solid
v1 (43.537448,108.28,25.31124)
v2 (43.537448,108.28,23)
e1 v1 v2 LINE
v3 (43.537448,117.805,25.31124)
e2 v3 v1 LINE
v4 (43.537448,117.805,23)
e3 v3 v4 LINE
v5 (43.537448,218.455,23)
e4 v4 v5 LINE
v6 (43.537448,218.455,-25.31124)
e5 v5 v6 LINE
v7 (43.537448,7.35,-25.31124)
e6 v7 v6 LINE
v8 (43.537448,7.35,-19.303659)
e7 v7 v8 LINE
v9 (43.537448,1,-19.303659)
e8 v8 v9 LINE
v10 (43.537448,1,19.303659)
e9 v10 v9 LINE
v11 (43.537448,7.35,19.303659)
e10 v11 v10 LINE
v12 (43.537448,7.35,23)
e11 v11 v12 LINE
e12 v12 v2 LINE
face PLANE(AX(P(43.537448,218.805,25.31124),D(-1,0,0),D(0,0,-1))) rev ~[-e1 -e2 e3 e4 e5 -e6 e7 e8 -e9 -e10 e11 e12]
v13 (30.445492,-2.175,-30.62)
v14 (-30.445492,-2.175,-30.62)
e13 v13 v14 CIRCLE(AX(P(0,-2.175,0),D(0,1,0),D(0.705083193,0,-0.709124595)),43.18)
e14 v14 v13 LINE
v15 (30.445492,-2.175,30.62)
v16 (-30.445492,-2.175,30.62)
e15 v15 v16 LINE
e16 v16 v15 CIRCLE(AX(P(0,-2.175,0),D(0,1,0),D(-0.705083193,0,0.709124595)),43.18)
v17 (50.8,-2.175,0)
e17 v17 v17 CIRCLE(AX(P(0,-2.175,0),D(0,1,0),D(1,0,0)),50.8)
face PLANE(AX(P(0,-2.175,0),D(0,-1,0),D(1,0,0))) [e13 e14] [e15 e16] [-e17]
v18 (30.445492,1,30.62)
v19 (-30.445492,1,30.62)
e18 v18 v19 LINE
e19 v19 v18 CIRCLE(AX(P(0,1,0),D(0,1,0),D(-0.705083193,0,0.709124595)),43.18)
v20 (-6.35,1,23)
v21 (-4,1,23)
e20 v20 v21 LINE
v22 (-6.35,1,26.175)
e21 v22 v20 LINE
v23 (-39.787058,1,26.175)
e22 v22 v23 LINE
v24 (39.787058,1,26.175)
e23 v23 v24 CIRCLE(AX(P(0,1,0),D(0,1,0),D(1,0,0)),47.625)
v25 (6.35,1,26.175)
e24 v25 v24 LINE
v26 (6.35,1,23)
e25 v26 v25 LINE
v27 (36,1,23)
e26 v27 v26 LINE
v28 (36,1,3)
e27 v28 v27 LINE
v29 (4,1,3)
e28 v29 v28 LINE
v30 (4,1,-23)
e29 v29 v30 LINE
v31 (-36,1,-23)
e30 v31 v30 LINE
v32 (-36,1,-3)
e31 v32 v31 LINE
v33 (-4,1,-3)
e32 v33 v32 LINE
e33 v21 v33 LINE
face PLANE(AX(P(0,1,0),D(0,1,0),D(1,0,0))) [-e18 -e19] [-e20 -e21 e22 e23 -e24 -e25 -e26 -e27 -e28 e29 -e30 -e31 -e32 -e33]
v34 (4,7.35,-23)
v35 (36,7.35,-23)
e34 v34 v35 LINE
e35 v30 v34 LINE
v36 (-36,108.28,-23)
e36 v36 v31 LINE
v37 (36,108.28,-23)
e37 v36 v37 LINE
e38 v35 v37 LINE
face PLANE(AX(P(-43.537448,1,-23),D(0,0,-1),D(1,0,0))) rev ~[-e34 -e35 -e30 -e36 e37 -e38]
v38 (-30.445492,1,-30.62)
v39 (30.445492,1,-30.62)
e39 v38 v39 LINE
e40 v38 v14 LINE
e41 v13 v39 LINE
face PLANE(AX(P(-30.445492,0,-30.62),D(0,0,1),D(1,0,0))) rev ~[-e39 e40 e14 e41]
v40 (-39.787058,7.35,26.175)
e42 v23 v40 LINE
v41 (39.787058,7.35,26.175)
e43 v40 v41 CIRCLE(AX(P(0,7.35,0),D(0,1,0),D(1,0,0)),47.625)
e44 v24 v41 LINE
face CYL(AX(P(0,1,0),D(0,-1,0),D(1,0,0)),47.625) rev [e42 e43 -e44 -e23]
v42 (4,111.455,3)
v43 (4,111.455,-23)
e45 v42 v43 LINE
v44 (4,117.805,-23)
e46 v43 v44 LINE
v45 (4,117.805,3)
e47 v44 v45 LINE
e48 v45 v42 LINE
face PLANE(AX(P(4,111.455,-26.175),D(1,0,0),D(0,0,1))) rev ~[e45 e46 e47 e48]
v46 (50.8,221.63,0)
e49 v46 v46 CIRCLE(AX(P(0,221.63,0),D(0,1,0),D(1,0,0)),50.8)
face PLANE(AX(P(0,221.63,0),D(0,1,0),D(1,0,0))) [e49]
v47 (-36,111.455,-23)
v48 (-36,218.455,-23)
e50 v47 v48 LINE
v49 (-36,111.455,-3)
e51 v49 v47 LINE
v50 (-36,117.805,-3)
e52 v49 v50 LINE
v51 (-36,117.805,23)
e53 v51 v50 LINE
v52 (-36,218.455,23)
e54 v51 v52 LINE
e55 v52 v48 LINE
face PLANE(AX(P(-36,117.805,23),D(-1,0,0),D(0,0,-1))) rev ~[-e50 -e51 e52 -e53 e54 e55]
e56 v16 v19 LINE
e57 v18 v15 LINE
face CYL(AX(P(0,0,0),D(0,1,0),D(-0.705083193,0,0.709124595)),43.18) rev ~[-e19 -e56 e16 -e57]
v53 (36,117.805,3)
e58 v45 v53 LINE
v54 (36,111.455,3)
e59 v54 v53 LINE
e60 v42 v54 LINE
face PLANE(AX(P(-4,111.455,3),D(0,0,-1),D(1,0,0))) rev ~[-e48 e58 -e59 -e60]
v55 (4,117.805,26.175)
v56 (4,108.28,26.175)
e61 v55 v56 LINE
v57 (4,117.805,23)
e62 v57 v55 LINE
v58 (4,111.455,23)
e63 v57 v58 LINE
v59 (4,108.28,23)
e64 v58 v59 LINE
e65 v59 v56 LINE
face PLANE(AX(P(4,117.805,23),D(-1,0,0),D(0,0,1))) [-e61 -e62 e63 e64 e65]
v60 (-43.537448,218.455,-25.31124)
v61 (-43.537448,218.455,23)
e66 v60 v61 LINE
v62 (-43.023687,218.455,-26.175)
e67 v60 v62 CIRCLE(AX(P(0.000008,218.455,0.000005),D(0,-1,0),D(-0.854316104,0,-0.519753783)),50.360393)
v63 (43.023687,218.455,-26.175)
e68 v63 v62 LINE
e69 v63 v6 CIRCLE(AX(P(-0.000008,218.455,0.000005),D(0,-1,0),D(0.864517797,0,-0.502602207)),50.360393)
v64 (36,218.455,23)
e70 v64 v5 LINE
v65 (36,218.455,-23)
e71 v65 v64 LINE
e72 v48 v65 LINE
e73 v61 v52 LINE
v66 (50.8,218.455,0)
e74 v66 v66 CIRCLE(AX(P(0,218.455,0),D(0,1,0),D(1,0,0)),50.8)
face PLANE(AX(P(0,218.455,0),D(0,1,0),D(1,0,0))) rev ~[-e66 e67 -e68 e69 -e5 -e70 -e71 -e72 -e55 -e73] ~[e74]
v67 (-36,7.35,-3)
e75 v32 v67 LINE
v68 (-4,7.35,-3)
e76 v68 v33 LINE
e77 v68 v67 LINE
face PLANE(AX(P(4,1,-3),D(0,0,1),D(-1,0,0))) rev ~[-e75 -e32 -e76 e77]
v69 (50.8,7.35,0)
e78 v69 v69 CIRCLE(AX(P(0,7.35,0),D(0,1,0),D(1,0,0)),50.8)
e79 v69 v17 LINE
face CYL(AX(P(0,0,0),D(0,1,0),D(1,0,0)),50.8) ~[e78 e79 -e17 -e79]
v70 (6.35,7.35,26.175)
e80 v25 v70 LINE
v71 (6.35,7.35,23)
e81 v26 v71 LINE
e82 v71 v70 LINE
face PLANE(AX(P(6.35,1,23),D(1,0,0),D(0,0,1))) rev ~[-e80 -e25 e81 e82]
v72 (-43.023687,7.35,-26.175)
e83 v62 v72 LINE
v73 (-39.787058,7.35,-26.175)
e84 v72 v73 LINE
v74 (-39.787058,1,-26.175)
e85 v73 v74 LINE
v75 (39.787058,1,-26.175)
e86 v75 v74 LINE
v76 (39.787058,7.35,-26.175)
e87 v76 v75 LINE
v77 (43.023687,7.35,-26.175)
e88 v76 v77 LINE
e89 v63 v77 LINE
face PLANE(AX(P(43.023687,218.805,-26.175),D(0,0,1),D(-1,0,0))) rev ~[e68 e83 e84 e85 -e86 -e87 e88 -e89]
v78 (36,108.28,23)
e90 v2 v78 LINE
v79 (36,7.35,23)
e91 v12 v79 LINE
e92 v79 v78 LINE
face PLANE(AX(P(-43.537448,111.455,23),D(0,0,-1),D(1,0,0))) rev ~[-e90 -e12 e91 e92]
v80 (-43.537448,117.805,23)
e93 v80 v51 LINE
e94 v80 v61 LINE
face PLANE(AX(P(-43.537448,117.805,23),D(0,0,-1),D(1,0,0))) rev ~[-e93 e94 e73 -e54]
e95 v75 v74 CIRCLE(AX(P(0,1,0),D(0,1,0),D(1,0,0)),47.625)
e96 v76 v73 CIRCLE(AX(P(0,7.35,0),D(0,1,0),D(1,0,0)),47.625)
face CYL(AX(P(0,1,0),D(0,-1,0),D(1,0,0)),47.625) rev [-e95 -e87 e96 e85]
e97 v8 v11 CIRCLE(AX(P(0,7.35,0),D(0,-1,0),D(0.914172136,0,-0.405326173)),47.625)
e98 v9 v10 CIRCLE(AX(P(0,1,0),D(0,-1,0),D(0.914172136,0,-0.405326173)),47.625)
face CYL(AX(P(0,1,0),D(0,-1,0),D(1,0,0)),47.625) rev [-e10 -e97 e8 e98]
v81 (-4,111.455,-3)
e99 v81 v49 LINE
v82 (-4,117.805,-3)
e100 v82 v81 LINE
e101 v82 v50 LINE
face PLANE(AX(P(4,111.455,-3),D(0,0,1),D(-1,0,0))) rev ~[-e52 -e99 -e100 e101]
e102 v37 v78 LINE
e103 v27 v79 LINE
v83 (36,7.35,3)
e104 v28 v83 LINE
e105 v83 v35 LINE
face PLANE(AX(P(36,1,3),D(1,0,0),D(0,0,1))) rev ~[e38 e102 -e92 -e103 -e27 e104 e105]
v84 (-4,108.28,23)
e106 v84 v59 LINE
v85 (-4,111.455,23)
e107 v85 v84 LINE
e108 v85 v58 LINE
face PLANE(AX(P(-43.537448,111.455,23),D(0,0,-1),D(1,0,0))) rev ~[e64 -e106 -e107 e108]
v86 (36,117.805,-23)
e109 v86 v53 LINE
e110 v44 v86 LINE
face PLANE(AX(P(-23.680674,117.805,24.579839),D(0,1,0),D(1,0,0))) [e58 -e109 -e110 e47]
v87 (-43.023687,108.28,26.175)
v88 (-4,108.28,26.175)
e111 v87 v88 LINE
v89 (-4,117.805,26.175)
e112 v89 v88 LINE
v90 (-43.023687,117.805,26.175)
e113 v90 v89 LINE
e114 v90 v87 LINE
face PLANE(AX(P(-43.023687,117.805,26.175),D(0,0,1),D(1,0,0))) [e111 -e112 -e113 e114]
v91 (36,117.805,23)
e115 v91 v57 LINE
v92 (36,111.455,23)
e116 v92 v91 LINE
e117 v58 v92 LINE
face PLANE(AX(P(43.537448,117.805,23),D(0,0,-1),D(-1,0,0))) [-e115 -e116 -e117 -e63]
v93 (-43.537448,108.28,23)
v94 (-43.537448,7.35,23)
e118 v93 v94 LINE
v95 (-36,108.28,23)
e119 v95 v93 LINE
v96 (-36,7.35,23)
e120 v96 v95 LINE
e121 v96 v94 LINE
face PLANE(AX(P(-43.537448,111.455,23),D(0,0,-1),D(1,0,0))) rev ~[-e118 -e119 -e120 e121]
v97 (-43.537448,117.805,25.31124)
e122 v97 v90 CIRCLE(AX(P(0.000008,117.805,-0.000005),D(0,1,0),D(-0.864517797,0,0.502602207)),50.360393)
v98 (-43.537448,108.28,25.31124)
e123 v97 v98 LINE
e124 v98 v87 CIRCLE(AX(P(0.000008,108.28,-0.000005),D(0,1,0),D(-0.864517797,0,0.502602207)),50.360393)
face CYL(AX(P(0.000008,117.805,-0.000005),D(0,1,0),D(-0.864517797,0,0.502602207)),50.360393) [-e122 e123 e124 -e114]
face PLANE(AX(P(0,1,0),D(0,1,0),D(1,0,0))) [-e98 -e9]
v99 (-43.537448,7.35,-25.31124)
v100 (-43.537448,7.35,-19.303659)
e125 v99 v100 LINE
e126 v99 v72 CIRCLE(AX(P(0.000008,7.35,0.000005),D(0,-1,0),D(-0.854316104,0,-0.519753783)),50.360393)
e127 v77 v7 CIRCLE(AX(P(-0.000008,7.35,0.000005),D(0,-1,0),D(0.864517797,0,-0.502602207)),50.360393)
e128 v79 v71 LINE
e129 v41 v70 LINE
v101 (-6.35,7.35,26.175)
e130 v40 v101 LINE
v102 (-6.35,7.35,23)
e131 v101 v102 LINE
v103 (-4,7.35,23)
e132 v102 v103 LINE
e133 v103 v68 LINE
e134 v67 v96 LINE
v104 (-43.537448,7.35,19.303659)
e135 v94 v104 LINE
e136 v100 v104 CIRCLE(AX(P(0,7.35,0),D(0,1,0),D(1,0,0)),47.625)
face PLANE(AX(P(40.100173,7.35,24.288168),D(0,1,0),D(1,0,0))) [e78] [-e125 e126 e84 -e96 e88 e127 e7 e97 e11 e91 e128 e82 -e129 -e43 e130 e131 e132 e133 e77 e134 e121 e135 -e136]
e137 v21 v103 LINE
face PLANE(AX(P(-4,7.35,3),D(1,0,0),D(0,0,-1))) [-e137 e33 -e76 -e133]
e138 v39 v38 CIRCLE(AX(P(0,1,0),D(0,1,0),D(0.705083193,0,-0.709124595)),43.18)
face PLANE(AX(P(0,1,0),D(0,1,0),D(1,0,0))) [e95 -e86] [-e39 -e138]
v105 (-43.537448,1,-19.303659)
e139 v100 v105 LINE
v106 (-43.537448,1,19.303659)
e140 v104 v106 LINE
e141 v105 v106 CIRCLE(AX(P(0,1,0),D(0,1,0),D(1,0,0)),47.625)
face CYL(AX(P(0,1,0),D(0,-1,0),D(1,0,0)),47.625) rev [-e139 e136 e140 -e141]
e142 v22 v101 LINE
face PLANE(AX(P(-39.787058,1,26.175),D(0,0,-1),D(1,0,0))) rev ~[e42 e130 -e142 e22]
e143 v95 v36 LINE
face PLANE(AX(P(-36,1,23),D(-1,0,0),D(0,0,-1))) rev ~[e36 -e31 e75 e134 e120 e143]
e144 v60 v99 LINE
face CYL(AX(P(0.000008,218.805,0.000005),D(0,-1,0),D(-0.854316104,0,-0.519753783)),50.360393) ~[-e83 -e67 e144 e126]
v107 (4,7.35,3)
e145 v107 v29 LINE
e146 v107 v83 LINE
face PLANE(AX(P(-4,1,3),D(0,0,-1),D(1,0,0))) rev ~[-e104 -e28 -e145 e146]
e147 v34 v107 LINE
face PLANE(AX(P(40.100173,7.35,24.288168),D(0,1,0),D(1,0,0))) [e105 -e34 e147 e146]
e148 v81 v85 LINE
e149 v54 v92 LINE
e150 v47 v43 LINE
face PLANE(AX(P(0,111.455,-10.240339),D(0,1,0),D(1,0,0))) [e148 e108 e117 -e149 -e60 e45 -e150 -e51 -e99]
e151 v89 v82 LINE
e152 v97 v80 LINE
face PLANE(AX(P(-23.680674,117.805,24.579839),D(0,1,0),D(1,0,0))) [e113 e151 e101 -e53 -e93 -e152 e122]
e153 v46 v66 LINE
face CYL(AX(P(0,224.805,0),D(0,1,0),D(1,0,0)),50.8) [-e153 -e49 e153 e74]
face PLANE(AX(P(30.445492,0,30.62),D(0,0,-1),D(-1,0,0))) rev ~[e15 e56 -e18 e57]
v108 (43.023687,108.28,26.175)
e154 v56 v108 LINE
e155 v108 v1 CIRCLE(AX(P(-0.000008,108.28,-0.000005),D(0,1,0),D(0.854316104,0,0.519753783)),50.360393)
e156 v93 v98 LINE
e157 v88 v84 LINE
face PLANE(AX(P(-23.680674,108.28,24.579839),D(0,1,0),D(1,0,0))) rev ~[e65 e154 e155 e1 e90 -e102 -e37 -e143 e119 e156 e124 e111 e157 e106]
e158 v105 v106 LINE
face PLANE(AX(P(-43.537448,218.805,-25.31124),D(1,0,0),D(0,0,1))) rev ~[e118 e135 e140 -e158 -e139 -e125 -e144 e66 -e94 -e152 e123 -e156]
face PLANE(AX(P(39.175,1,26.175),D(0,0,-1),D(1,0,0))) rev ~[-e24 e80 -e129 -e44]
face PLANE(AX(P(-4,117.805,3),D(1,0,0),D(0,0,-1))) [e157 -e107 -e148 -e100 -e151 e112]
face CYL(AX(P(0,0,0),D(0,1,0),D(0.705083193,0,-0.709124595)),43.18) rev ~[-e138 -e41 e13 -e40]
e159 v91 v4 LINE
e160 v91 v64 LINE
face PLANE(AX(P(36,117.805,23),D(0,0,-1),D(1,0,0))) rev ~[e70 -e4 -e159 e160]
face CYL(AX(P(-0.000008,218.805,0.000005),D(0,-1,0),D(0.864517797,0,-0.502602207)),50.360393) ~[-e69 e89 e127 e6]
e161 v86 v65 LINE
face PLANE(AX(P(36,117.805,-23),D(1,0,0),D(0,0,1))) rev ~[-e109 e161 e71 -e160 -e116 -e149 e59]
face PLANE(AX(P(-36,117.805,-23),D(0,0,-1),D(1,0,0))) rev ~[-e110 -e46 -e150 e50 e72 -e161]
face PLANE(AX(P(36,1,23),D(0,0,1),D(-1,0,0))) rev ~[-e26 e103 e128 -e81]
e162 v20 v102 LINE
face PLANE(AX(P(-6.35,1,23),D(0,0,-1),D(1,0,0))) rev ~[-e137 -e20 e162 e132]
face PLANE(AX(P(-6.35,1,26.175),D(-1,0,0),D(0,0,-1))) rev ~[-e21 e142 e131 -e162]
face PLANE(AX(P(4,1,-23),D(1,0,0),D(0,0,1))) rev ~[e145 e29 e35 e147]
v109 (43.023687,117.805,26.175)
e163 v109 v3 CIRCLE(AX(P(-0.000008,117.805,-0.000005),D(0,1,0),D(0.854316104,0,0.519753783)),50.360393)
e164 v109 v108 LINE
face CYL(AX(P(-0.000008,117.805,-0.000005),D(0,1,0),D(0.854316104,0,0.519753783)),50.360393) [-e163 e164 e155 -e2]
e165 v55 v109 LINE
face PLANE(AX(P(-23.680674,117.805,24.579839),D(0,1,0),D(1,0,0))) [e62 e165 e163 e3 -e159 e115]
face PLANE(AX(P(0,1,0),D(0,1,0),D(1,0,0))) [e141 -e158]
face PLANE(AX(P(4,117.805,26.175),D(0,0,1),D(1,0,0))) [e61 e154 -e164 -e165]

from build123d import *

# Parameters (mm, degrees)
SKETCH1_R            = 50.8
BOSS_EXTRUDE1_DEPTH  = 1
SKETCH4_W            = 6.35
SKETCH4_H            = 3
BOSS_EXTRUDE2_DEPTH  = 6.35
SKETCH6_R            = 50.8
SKETCH6_R_2          = 47.625
BOSS_EXTRUDE3_DEPTH  = 6.35
BOSS_EXTRUDE5_DEPTH  = 107.280000006
BOSS_EXTRUDE10_START = -6.35
BOSS_EXTRUDE10_DEPTH = 107.28
SKETCH12_W           = 72.000000018
SKETCH12_H           = 46
BOSS_EXTRUDE13_DEPTH = 3.175
BOSS_EXTRUDE14_DEPTH = 6.35
BOSS_EXTRUDE16_DEPTH = 6.35
BOSS_EXTRUDE17_DEPTH = 9.525
BOSS_EXTRUDE18_DEPTH = 101
SKETCH18_W           = 7.999999982
SKETCH18_H           = 6.35
BOSS_EXTRUDE19_DEPTH = 3.175
SKETCH19_W           = 7.999999982
SKETCH19_H           = 6
CUT_EXTRUDE1_DEPTH   = 6.35
SKETCH20_W           = 7.999999982
SKETCH20_H           = 6
CUT_EXTRUDE2_DEPTH   = 6.35
BOSS_EXTRUDE21_DEPTH = 6
CUT_EXTRUDE3_DEPTH   = 2
SKETCH24_R           = 50.8
BOSS_EXTRUDE22_DEPTH = 6.35
SKETCH25_R           = 50.8
CUT_EXTRUDE4_DEPTH   = 3.175
SKETCH26_R           = 50.8
BOSS_EXTRUDE23_DEPTH = 5.35
SKETCH28_R           = 60.968632161
CUT_EXTRUDE5_DEPTH   = 3.175


with BuildPart() as part:
    # Sketch1 → Boss-Extrude1 (new body)
    with BuildSketch(Plane(origin=(0, 0, 0), x_dir=(1, 0, 0), z_dir=(0, 1, 0))):
        Circle(SKETCH1_R)
    extrude(amount=BOSS_EXTRUDE1_DEPTH)

    # Sketch4 → Boss-Extrude2 (add)
    with BuildSketch(Plane(origin=(0, 1, 0), x_dir=(1, 0, 0), z_dir=(0, 1, 0))):
        Polygon((-36.000000009, 18), (-36.000000009, 23), (-26.000000009, 23), (-6.35, 23), (-6.35, 26.175), (-39.175000009, 26.175), (-39.175000009, -26.175), (-6.35, -26.175), (-6.35, -23), (-36.000000009, -23), (-36.000000009, 3), align=None)
        Polygon((6.35, 26.175), (6.35, 23), (36.000000009, 23), (36.000000009, -3), (36.000000009, -18), (36.000000009, -23), (26.000000009, -23), (6.35, -23), (6.35, -26.175), (39.175000009, -26.175), (39.175000009, 26.175), align=None)
        Polygon((-26.000000009, 3), (-36.000000009, 3), (-36.000000009, -23), (-6.35, -23), (-6.35, 0), (-6.35, 3), align=None)
        Polygon((36.000000009, 23), (6.35, 23), (6.35, 0), (6.35, -3), (26.000000009, -3), (36.000000009, -3), align=None)
        with Locations((-3.175, 1.5)):
            Rectangle(SKETCH4_W, SKETCH4_H)
        Polygon((6.35, 23), (3.999999991, 23), (3.999999991, 18), (3.999999991, 3), (0, 3), (0, 0), (6.35, 0), align=None)
        with Locations((3.175, -1.5)):
            Rectangle(SKETCH4_W, SKETCH4_H)
        Polygon((-6.35, 0), (-6.35, -23), (-3.999999991, -23), (-3.999999991, -18), (-3.999999991, -3), (0, -3), (0, 0), align=None)
    extrude(amount=BOSS_EXTRUDE2_DEPTH)

    # Sketch6 → Boss-Extrude3 (add)
    with BuildSketch(Plane(origin=(0, 1, 0), x_dir=(1, 0, 0), z_dir=(0, 1, 0))):
        Circle(SKETCH6_R)
        Circle(SKETCH6_R_2, mode=Mode.SUBTRACT)
    extrude(amount=BOSS_EXTRUDE3_DEPTH)

    # Sketch8 → Boss-Extrude5 (add)
    with BuildSketch(Plane(origin=(0, 1, 0), x_dir=(1, 0, 0), z_dir=(0, 1, 0))):
        with BuildLine():
            Line((-39.175000009, -23), (-39.175000009, 23))
            Line((-39.175000009, 23), (-41.703004988, 23))
            ThreePointArc((-41.703004988, 23), (-42.660279406, 21.171707206), (-43.537447961, 19.30365898))
            Line((-43.537447961, 19.30365898), (-43.537447961, -19.30365898))
            ThreePointArc((-43.537447961, -19.30365898), (-42.660279406, -21.171707206), (-41.703004988, -23))
            Line((-41.703004988, -23), (-39.175000009, -23))
        make_face()
        Polygon((-36.000000009, 3), (-36.000000009, 23), (-39.175000009, 23), (-39.175000009, -23), (-36.000000009, -23), align=None)
        Polygon((39.175000009, 23), (36.000000009, 23), (36.000000009, -3), (36.000000009, -23), (39.175000009, -23), align=None)
        with BuildLine():
            ThreePointArc((43.537447961, 19.30365898), (42.660279406, 21.171707206), (41.703004988, 23))
            Line((41.703004988, 23), (39.175000009, 23))
            Line((39.175000009, 23), (39.175000009, -23))
            Line((39.175000009, -23), (41.703004988, -23))
            ThreePointArc((41.703004988, -23), (42.660279406, -21.171707206), (43.537447961, -19.30365898))
            Line((43.537447961, -19.30365898), (43.537447961, 19.30365898))
        make_face()
        with BuildLine():
            Line((43.537447961, 23), (41.703004988, 23))
            ThreePointArc((41.703004988, 23), (42.660279406, 21.171707206), (43.537447961, 19.30365898))
            Line((43.537447961, 19.30365898), (43.537447961, 23))
        make_face()
        with BuildLine():
            ThreePointArc((43.537447961, -19.30365898), (42.660279406, -21.171707206), (41.703004988, -23))
            Line((41.703004988, -23), (43.537447961, -23))
            Line((43.537447961, -23), (43.537447961, -19.30365898))
        make_face()
        with BuildLine():
            Line((-43.537447961, -23), (-41.703004988, -23))
            ThreePointArc((-41.703004988, -23), (-42.660279406, -21.171707206), (-43.537447961, -19.30365898))
            Line((-43.537447961, -19.30365898), (-43.537447961, -23))
        make_face()
        with BuildLine():
            ThreePointArc((-43.537447961, 19.30365898), (-42.660279406, 21.171707206), (-41.703004988, 23))
            Line((-41.703004988, 23), (-43.537447961, 23))
            Line((-43.537447961, 23), (-43.537447961, 19.30365898))
        make_face()
    extrude(amount=BOSS_EXTRUDE5_DEPTH)

    # Sketch9 → Boss-Extrude10 (add)
    with BuildSketch(Plane(origin=(0, 7.35, 0), x_dir=(1, 0, 0), z_dir=(0, 1, 0)).offset(BOSS_EXTRUDE10_START)):
        with BuildLine():
            Line((-43.537447961, 25.31123991), (-43.537447961, 23))
            Line((-43.537447961, 23), (43.537447961, 23))
            Line((43.537447961, 23), (43.537447961, 25.31123991))
            ThreePointArc((43.537447961, 25.31123991), (43.28272205, 25.744401579), (43.023686683, 26.175))
            Line((43.023686683, 26.175), (-43.023686683, 26.175))
            ThreePointArc((-43.023686683, 26.175), (-43.28272205, 25.744401579), (-43.537447961, 25.31123991))
        make_face()
    extrude(amount=BOSS_EXTRUDE10_DEPTH)

    # Sketch12 → Boss-Extrude13 (add)
    with BuildSketch(Plane(origin=(0, 108.280000006, 0), x_dir=(1, 0, 0), z_dir=(0, 1, 0))):
        with BuildLine():
            Line((-36.000000009, 23), (36.000000009, 23))
            Line((36.000000009, 23), (36.000000009, -23))
            Line((36.000000009, -23), (43.537447961, -23))
            Line((43.537447961, -23), (43.537447961, 25.31123991))
            ThreePointArc((43.537447961, 25.31123991), (43.28272205, 25.744401579), (43.023686683, 26.175))
            Line((43.023686683, 26.175), (-43.023686683, 26.175))
            ThreePointArc((-43.023686683, 26.175), (-43.28272205, 25.744401579), (-43.537447961, 25.31123991))
            Line((-43.537447961, 25.31123991), (-43.537447961, -23))
            Line((-43.537447961, -23), (-36.000000009, -23))
            Line((-36.000000009, -23), (-36.000000009, 23))
        make_face()
        Rectangle(SKETCH12_W, SKETCH12_H)
    extrude(amount=BOSS_EXTRUDE13_DEPTH)

    # Sketch13 → Boss-Extrude14 (add)
    with BuildSketch(Plane(origin=(0, 111.455000006, 0), x_dir=(1, 0, 0), z_dir=(0, 1, 0))):
        Polygon((-3.999999991, -3), (36.000000009, -3), (36.000000009, 23), (3.999999991, 23), (3.999999991, 3), (-36.000000009, 3), (-36.000000009, -23), (-6.35, -23), (-3.999999991, -23), align=None)
        with BuildLine():
            Line((36.000000009, -23), (39.175000009, -23))
            Line((39.175000009, -23), (41.703004988, -23))
            Line((41.703004988, -23), (43.537447961, -23))
            Line((43.537447961, -23), (43.537447961, 25.31123991))
            ThreePointArc((43.537447961, 25.31123991), (43.28272205, 25.744401579), (43.023686683, 26.175))
            Line((43.023686683, 26.175), (3.999999991, 26.175))
            Line((3.999999991, 26.175), (3.999999991, 23))
            Line((3.999999991, 23), (36.000000009, 23))
            Line((36.000000009, 23), (36.000000009, -3))
            Line((36.000000009, -3), (36.000000009, -23))
        make_face()
        with BuildLine():
            Line((-43.537447961, -23), (-41.703004988, -23))
            Line((-41.703004988, -23), (-39.175000009, -23))
            Line((-39.175000009, -23), (-36.000000009, -23))
            Line((-36.000000009, -23), (-36.000000009, 3))
            Line((-36.000000009, 3), (-36.000000009, 23))
            Line((-36.000000009, 23), (-3.999999991, 23))
            Line((-3.999999991, 23), (-3.999999991, 26.175))
            Line((-3.999999991, 26.175), (-43.023686683, 26.175))
            ThreePointArc((-43.023686683, 26.175), (-43.28272205, 25.744401579), (-43.537447961, 25.31123991))
            Line((-43.537447961, 25.31123991), (-43.537447961, -23))
        make_face()
    extrude(amount=BOSS_EXTRUDE14_DEPTH)

    # Sketch15 → Boss-Extrude16 (add)
    with BuildSketch(Plane(origin=(0, 1, 0), x_dir=(1, 0, 0), z_dir=(0, 1, 0))):
        with BuildLine():
            Line((39.175000009, -26.175), (39.787058197, -26.175))
            ThreePointArc((39.787058197, -26.175), (40.775945798, -24.60615511), (41.703004988, -23))
            Line((41.703004988, -23), (39.175000009, -23))
            Line((39.175000009, -23), (39.175000009, -26.175))
        make_face()
        with BuildLine():
            Line((-39.787058197, -26.175), (-39.175000009, -26.175))
            Line((-39.175000009, -26.175), (-39.175000009, -23))
            Line((-39.175000009, -23), (-41.703004988, -23))
            ThreePointArc((-41.703004988, -23), (-40.775945798, -24.60615511), (-39.787058197, -26.175))
        make_face()
    extrude(amount=BOSS_EXTRUDE16_DEPTH)

    # Sketch16 → Boss-Extrude17 (add)
    with BuildSketch(Plane(origin=(0, 117.805000006, 0), x_dir=(1, 0, 0), z_dir=(0, 1, 0))):
        with BuildLine():
            Line((-3.999999991, -23), (-43.537447961, -23))
            Line((-43.537447961, -23), (-43.537447961, -25.31123991))
            ThreePointArc((-43.537447961, -25.31123991), (-43.28272205, -25.744401579), (-43.023686683, -26.175))
            Line((-43.023686683, -26.175), (-3.999999991, -26.175))
            Line((-3.999999991, -26.175), (-3.999999991, -23))
        make_face()
        with BuildLine():
            Line((43.537447961, -23), (3.999999991, -23))
            Line((3.999999991, -23), (3.999999991, -26.175))
            Line((3.999999991, -26.175), (43.023686683, -26.175))
            ThreePointArc((43.023686683, -26.175), (43.28272205, -25.744401579), (43.537447961, -25.31123991))
            Line((43.537447961, -25.31123991), (43.537447961, -23))
        make_face()
    extrude(amount=-BOSS_EXTRUDE17_DEPTH)

    # Sketch17 → Boss-Extrude18 (add)
    with BuildSketch(Plane(origin=(0, 117.805000006, 0), x_dir=(1, 0, 0), z_dir=(0, 1, 0))):
        with BuildLine():
            ThreePointArc((43.537447961, 25.31123991), (43.28272205, 25.744401579), (43.023686683, 26.175))
            Line((43.023686683, 26.175), (-43.023686683, 26.175))
            ThreePointArc((-43.023686683, 26.175), (-43.28272205, 25.744401579), (-43.537447961, 25.31123991))
            Line((-43.537447961, 25.31123991), (-43.537447961, -23))
            Line((-43.537447961, -23), (-36.000000009, -23))
            Line((-36.000000009, -23), (-36.000000009, 23))
            Line((-36.000000009, 23), (36.000000009, 23))
            Line((36.000000009, 23), (36.000000009, -23))
            Line((36.000000009, -23), (43.537447961, -23))
            Line((43.537447961, -23), (43.537447961, 25.31123991))
        make_face()
    extrude(amount=BOSS_EXTRUDE18_DEPTH)

    # Sketch18 → Boss-Extrude19 (add)
    with BuildSketch(Plane(origin=(0, 0, -26.175), x_dir=(-1, 0, 0), z_dir=(0, 0, -1))):
        with Locations((0, 114.630000006)):
            Rectangle(SKETCH18_W, SKETCH18_H)
    extrude(amount=-BOSS_EXTRUDE19_DEPTH)

    # Sketch19 → Cut-Extrude1 (cut)
    with BuildSketch(Plane(origin=(0, 117.805000006, 0), x_dir=(1, 0, 0), z_dir=(0, 1, 0))):
        Rectangle(SKETCH19_W, SKETCH19_H)
    extrude(amount=-CUT_EXTRUDE1_DEPTH, mode=Mode.SUBTRACT)

    # Sketch20 → Cut-Extrude2 (cut)
    with BuildSketch(Plane(origin=(0, 7.35, 0), x_dir=(1, 0, 0), z_dir=(0, 1, 0))):
        Rectangle(SKETCH20_W, SKETCH20_H)
    extrude(amount=-CUT_EXTRUDE2_DEPTH, mode=Mode.SUBTRACT)

    # Sketch21 → Boss-Extrude21 (add)
    with BuildSketch(Plane(origin=(0, 218.805000006, 0), x_dir=(1, 0, 0), z_dir=(0, 1, 0))):
        with BuildLine():
            Line((-43.537447961, 25.31123991), (-43.537447961, -23))
            Line((-43.537447961, -23), (-36.000000009, -23))
            Line((-36.000000009, -23), (-36.000000009, 23))
            Line((-36.000000009, 23), (36.000000009, 23))
            Line((36.000000009, 23), (36.000000009, -23))
            Line((36.000000009, -23), (43.537447961, -23))
            Line((43.537447961, -23), (43.537447961, 25.31123991))
            ThreePointArc((43.537447961, 25.31123991), (43.28272205, 25.744401579), (43.023686683, 26.175))
            Line((43.023686683, 26.175), (-43.023686683, 26.175))
            ThreePointArc((-43.023686683, 26.175), (-43.28272205, 25.744401579), (-43.537447961, 25.31123991))
        make_face()
        with BuildLine():
            ThreePointArc((-43.537447961, -25.31123991), (-43.28272205, -25.744401579), (-43.023686683, -26.175))
            Line((-43.023686683, -26.175), (43.023686683, -26.175))
            ThreePointArc((43.023686683, -26.175), (43.28272205, -25.744401579), (43.537447961, -25.31123991))
            Line((43.537447961, -25.31123991), (43.537447961, -23))
            Line((43.537447961, -23), (36.000000009, -23))
            Line((36.000000009, -23), (36.000000009, 23))
            Line((36.000000009, 23), (-36.000000009, 23))
            Line((-36.000000009, 23), (-36.000000009, -23))
            Line((-36.000000009, -23), (-43.537447961, -23))
            Line((-43.537447961, -23), (-43.537447961, -25.31123991))
        make_face()
    extrude(amount=BOSS_EXTRUDE21_DEPTH)

    # Sketch23 → Cut-Extrude3 (cut, through all)
    with BuildSketch(Plane(origin=(0, 1, 0), x_dir=(1, 0, 0), z_dir=(0, 1, 0))):
        with BuildLine():
            Line((-6.35, -30.62), (-30.445492277, -30.62))
            ThreePointArc((-30.445492277, -30.62), (0, -43.18), (30.445492277, -30.62))
            Line((30.445492277, -30.62), (6.35, -30.62))
            Line((6.35, -30.62), (-6.35, -30.62))
        make_face()
        with BuildLine():
            Line((-30.445492277, 30.62), (30.445492277, 30.62))
            ThreePointArc((30.445492277, 30.62), (0, 43.18), (-30.445492277, 30.62))
        make_face()
    extrude(amount=-CUT_EXTRUDE3_DEPTH, mode=Mode.SUBTRACT)

    # Sketch24 → Boss-Extrude22 (add)
    with BuildSketch(Plane(origin=(0, 224.805000006, 0), x_dir=(1, 0, 0), z_dir=(0, 1, 0))):
        Circle(SKETCH24_R)
    extrude(amount=-BOSS_EXTRUDE22_DEPTH)

    # Sketch25 → Cut-Extrude4 (cut)
    with BuildSketch(Plane(origin=(0, 224.805000006, 0), x_dir=(1, 0, 0), z_dir=(0, 1, 0))):
        Circle(SKETCH25_R)
    extrude(amount=-CUT_EXTRUDE4_DEPTH, mode=Mode.SUBTRACT)

    # Sketch26 → Boss-Extrude23 (add)
    with BuildSketch(Plane.XZ):
        Circle(SKETCH26_R)
        with BuildLine():
            Line((-30.445492277, -30.62), (30.445492277, -30.62))
            ThreePointArc((30.445492277, -30.62), (0, -43.18), (-30.445492277, -30.62))
        make_face(mode=Mode.SUBTRACT)
        with BuildLine():
            Line((30.445492277, 30.62), (-30.445492277, 30.62))
            ThreePointArc((-30.445492277, 30.62), (0, 43.18), (30.445492277, 30.62))
        make_face(mode=Mode.SUBTRACT)
    extrude(amount=BOSS_EXTRUDE23_DEPTH)

    # Sketch28 → Cut-Extrude5 (cut)
    with BuildSketch(Plane.XZ.offset(5.35)):
        Circle(SKETCH28_R)
    extrude(amount=-CUT_EXTRUDE5_DEPTH, mode=Mode.SUBTRACT)


solid = part.part
